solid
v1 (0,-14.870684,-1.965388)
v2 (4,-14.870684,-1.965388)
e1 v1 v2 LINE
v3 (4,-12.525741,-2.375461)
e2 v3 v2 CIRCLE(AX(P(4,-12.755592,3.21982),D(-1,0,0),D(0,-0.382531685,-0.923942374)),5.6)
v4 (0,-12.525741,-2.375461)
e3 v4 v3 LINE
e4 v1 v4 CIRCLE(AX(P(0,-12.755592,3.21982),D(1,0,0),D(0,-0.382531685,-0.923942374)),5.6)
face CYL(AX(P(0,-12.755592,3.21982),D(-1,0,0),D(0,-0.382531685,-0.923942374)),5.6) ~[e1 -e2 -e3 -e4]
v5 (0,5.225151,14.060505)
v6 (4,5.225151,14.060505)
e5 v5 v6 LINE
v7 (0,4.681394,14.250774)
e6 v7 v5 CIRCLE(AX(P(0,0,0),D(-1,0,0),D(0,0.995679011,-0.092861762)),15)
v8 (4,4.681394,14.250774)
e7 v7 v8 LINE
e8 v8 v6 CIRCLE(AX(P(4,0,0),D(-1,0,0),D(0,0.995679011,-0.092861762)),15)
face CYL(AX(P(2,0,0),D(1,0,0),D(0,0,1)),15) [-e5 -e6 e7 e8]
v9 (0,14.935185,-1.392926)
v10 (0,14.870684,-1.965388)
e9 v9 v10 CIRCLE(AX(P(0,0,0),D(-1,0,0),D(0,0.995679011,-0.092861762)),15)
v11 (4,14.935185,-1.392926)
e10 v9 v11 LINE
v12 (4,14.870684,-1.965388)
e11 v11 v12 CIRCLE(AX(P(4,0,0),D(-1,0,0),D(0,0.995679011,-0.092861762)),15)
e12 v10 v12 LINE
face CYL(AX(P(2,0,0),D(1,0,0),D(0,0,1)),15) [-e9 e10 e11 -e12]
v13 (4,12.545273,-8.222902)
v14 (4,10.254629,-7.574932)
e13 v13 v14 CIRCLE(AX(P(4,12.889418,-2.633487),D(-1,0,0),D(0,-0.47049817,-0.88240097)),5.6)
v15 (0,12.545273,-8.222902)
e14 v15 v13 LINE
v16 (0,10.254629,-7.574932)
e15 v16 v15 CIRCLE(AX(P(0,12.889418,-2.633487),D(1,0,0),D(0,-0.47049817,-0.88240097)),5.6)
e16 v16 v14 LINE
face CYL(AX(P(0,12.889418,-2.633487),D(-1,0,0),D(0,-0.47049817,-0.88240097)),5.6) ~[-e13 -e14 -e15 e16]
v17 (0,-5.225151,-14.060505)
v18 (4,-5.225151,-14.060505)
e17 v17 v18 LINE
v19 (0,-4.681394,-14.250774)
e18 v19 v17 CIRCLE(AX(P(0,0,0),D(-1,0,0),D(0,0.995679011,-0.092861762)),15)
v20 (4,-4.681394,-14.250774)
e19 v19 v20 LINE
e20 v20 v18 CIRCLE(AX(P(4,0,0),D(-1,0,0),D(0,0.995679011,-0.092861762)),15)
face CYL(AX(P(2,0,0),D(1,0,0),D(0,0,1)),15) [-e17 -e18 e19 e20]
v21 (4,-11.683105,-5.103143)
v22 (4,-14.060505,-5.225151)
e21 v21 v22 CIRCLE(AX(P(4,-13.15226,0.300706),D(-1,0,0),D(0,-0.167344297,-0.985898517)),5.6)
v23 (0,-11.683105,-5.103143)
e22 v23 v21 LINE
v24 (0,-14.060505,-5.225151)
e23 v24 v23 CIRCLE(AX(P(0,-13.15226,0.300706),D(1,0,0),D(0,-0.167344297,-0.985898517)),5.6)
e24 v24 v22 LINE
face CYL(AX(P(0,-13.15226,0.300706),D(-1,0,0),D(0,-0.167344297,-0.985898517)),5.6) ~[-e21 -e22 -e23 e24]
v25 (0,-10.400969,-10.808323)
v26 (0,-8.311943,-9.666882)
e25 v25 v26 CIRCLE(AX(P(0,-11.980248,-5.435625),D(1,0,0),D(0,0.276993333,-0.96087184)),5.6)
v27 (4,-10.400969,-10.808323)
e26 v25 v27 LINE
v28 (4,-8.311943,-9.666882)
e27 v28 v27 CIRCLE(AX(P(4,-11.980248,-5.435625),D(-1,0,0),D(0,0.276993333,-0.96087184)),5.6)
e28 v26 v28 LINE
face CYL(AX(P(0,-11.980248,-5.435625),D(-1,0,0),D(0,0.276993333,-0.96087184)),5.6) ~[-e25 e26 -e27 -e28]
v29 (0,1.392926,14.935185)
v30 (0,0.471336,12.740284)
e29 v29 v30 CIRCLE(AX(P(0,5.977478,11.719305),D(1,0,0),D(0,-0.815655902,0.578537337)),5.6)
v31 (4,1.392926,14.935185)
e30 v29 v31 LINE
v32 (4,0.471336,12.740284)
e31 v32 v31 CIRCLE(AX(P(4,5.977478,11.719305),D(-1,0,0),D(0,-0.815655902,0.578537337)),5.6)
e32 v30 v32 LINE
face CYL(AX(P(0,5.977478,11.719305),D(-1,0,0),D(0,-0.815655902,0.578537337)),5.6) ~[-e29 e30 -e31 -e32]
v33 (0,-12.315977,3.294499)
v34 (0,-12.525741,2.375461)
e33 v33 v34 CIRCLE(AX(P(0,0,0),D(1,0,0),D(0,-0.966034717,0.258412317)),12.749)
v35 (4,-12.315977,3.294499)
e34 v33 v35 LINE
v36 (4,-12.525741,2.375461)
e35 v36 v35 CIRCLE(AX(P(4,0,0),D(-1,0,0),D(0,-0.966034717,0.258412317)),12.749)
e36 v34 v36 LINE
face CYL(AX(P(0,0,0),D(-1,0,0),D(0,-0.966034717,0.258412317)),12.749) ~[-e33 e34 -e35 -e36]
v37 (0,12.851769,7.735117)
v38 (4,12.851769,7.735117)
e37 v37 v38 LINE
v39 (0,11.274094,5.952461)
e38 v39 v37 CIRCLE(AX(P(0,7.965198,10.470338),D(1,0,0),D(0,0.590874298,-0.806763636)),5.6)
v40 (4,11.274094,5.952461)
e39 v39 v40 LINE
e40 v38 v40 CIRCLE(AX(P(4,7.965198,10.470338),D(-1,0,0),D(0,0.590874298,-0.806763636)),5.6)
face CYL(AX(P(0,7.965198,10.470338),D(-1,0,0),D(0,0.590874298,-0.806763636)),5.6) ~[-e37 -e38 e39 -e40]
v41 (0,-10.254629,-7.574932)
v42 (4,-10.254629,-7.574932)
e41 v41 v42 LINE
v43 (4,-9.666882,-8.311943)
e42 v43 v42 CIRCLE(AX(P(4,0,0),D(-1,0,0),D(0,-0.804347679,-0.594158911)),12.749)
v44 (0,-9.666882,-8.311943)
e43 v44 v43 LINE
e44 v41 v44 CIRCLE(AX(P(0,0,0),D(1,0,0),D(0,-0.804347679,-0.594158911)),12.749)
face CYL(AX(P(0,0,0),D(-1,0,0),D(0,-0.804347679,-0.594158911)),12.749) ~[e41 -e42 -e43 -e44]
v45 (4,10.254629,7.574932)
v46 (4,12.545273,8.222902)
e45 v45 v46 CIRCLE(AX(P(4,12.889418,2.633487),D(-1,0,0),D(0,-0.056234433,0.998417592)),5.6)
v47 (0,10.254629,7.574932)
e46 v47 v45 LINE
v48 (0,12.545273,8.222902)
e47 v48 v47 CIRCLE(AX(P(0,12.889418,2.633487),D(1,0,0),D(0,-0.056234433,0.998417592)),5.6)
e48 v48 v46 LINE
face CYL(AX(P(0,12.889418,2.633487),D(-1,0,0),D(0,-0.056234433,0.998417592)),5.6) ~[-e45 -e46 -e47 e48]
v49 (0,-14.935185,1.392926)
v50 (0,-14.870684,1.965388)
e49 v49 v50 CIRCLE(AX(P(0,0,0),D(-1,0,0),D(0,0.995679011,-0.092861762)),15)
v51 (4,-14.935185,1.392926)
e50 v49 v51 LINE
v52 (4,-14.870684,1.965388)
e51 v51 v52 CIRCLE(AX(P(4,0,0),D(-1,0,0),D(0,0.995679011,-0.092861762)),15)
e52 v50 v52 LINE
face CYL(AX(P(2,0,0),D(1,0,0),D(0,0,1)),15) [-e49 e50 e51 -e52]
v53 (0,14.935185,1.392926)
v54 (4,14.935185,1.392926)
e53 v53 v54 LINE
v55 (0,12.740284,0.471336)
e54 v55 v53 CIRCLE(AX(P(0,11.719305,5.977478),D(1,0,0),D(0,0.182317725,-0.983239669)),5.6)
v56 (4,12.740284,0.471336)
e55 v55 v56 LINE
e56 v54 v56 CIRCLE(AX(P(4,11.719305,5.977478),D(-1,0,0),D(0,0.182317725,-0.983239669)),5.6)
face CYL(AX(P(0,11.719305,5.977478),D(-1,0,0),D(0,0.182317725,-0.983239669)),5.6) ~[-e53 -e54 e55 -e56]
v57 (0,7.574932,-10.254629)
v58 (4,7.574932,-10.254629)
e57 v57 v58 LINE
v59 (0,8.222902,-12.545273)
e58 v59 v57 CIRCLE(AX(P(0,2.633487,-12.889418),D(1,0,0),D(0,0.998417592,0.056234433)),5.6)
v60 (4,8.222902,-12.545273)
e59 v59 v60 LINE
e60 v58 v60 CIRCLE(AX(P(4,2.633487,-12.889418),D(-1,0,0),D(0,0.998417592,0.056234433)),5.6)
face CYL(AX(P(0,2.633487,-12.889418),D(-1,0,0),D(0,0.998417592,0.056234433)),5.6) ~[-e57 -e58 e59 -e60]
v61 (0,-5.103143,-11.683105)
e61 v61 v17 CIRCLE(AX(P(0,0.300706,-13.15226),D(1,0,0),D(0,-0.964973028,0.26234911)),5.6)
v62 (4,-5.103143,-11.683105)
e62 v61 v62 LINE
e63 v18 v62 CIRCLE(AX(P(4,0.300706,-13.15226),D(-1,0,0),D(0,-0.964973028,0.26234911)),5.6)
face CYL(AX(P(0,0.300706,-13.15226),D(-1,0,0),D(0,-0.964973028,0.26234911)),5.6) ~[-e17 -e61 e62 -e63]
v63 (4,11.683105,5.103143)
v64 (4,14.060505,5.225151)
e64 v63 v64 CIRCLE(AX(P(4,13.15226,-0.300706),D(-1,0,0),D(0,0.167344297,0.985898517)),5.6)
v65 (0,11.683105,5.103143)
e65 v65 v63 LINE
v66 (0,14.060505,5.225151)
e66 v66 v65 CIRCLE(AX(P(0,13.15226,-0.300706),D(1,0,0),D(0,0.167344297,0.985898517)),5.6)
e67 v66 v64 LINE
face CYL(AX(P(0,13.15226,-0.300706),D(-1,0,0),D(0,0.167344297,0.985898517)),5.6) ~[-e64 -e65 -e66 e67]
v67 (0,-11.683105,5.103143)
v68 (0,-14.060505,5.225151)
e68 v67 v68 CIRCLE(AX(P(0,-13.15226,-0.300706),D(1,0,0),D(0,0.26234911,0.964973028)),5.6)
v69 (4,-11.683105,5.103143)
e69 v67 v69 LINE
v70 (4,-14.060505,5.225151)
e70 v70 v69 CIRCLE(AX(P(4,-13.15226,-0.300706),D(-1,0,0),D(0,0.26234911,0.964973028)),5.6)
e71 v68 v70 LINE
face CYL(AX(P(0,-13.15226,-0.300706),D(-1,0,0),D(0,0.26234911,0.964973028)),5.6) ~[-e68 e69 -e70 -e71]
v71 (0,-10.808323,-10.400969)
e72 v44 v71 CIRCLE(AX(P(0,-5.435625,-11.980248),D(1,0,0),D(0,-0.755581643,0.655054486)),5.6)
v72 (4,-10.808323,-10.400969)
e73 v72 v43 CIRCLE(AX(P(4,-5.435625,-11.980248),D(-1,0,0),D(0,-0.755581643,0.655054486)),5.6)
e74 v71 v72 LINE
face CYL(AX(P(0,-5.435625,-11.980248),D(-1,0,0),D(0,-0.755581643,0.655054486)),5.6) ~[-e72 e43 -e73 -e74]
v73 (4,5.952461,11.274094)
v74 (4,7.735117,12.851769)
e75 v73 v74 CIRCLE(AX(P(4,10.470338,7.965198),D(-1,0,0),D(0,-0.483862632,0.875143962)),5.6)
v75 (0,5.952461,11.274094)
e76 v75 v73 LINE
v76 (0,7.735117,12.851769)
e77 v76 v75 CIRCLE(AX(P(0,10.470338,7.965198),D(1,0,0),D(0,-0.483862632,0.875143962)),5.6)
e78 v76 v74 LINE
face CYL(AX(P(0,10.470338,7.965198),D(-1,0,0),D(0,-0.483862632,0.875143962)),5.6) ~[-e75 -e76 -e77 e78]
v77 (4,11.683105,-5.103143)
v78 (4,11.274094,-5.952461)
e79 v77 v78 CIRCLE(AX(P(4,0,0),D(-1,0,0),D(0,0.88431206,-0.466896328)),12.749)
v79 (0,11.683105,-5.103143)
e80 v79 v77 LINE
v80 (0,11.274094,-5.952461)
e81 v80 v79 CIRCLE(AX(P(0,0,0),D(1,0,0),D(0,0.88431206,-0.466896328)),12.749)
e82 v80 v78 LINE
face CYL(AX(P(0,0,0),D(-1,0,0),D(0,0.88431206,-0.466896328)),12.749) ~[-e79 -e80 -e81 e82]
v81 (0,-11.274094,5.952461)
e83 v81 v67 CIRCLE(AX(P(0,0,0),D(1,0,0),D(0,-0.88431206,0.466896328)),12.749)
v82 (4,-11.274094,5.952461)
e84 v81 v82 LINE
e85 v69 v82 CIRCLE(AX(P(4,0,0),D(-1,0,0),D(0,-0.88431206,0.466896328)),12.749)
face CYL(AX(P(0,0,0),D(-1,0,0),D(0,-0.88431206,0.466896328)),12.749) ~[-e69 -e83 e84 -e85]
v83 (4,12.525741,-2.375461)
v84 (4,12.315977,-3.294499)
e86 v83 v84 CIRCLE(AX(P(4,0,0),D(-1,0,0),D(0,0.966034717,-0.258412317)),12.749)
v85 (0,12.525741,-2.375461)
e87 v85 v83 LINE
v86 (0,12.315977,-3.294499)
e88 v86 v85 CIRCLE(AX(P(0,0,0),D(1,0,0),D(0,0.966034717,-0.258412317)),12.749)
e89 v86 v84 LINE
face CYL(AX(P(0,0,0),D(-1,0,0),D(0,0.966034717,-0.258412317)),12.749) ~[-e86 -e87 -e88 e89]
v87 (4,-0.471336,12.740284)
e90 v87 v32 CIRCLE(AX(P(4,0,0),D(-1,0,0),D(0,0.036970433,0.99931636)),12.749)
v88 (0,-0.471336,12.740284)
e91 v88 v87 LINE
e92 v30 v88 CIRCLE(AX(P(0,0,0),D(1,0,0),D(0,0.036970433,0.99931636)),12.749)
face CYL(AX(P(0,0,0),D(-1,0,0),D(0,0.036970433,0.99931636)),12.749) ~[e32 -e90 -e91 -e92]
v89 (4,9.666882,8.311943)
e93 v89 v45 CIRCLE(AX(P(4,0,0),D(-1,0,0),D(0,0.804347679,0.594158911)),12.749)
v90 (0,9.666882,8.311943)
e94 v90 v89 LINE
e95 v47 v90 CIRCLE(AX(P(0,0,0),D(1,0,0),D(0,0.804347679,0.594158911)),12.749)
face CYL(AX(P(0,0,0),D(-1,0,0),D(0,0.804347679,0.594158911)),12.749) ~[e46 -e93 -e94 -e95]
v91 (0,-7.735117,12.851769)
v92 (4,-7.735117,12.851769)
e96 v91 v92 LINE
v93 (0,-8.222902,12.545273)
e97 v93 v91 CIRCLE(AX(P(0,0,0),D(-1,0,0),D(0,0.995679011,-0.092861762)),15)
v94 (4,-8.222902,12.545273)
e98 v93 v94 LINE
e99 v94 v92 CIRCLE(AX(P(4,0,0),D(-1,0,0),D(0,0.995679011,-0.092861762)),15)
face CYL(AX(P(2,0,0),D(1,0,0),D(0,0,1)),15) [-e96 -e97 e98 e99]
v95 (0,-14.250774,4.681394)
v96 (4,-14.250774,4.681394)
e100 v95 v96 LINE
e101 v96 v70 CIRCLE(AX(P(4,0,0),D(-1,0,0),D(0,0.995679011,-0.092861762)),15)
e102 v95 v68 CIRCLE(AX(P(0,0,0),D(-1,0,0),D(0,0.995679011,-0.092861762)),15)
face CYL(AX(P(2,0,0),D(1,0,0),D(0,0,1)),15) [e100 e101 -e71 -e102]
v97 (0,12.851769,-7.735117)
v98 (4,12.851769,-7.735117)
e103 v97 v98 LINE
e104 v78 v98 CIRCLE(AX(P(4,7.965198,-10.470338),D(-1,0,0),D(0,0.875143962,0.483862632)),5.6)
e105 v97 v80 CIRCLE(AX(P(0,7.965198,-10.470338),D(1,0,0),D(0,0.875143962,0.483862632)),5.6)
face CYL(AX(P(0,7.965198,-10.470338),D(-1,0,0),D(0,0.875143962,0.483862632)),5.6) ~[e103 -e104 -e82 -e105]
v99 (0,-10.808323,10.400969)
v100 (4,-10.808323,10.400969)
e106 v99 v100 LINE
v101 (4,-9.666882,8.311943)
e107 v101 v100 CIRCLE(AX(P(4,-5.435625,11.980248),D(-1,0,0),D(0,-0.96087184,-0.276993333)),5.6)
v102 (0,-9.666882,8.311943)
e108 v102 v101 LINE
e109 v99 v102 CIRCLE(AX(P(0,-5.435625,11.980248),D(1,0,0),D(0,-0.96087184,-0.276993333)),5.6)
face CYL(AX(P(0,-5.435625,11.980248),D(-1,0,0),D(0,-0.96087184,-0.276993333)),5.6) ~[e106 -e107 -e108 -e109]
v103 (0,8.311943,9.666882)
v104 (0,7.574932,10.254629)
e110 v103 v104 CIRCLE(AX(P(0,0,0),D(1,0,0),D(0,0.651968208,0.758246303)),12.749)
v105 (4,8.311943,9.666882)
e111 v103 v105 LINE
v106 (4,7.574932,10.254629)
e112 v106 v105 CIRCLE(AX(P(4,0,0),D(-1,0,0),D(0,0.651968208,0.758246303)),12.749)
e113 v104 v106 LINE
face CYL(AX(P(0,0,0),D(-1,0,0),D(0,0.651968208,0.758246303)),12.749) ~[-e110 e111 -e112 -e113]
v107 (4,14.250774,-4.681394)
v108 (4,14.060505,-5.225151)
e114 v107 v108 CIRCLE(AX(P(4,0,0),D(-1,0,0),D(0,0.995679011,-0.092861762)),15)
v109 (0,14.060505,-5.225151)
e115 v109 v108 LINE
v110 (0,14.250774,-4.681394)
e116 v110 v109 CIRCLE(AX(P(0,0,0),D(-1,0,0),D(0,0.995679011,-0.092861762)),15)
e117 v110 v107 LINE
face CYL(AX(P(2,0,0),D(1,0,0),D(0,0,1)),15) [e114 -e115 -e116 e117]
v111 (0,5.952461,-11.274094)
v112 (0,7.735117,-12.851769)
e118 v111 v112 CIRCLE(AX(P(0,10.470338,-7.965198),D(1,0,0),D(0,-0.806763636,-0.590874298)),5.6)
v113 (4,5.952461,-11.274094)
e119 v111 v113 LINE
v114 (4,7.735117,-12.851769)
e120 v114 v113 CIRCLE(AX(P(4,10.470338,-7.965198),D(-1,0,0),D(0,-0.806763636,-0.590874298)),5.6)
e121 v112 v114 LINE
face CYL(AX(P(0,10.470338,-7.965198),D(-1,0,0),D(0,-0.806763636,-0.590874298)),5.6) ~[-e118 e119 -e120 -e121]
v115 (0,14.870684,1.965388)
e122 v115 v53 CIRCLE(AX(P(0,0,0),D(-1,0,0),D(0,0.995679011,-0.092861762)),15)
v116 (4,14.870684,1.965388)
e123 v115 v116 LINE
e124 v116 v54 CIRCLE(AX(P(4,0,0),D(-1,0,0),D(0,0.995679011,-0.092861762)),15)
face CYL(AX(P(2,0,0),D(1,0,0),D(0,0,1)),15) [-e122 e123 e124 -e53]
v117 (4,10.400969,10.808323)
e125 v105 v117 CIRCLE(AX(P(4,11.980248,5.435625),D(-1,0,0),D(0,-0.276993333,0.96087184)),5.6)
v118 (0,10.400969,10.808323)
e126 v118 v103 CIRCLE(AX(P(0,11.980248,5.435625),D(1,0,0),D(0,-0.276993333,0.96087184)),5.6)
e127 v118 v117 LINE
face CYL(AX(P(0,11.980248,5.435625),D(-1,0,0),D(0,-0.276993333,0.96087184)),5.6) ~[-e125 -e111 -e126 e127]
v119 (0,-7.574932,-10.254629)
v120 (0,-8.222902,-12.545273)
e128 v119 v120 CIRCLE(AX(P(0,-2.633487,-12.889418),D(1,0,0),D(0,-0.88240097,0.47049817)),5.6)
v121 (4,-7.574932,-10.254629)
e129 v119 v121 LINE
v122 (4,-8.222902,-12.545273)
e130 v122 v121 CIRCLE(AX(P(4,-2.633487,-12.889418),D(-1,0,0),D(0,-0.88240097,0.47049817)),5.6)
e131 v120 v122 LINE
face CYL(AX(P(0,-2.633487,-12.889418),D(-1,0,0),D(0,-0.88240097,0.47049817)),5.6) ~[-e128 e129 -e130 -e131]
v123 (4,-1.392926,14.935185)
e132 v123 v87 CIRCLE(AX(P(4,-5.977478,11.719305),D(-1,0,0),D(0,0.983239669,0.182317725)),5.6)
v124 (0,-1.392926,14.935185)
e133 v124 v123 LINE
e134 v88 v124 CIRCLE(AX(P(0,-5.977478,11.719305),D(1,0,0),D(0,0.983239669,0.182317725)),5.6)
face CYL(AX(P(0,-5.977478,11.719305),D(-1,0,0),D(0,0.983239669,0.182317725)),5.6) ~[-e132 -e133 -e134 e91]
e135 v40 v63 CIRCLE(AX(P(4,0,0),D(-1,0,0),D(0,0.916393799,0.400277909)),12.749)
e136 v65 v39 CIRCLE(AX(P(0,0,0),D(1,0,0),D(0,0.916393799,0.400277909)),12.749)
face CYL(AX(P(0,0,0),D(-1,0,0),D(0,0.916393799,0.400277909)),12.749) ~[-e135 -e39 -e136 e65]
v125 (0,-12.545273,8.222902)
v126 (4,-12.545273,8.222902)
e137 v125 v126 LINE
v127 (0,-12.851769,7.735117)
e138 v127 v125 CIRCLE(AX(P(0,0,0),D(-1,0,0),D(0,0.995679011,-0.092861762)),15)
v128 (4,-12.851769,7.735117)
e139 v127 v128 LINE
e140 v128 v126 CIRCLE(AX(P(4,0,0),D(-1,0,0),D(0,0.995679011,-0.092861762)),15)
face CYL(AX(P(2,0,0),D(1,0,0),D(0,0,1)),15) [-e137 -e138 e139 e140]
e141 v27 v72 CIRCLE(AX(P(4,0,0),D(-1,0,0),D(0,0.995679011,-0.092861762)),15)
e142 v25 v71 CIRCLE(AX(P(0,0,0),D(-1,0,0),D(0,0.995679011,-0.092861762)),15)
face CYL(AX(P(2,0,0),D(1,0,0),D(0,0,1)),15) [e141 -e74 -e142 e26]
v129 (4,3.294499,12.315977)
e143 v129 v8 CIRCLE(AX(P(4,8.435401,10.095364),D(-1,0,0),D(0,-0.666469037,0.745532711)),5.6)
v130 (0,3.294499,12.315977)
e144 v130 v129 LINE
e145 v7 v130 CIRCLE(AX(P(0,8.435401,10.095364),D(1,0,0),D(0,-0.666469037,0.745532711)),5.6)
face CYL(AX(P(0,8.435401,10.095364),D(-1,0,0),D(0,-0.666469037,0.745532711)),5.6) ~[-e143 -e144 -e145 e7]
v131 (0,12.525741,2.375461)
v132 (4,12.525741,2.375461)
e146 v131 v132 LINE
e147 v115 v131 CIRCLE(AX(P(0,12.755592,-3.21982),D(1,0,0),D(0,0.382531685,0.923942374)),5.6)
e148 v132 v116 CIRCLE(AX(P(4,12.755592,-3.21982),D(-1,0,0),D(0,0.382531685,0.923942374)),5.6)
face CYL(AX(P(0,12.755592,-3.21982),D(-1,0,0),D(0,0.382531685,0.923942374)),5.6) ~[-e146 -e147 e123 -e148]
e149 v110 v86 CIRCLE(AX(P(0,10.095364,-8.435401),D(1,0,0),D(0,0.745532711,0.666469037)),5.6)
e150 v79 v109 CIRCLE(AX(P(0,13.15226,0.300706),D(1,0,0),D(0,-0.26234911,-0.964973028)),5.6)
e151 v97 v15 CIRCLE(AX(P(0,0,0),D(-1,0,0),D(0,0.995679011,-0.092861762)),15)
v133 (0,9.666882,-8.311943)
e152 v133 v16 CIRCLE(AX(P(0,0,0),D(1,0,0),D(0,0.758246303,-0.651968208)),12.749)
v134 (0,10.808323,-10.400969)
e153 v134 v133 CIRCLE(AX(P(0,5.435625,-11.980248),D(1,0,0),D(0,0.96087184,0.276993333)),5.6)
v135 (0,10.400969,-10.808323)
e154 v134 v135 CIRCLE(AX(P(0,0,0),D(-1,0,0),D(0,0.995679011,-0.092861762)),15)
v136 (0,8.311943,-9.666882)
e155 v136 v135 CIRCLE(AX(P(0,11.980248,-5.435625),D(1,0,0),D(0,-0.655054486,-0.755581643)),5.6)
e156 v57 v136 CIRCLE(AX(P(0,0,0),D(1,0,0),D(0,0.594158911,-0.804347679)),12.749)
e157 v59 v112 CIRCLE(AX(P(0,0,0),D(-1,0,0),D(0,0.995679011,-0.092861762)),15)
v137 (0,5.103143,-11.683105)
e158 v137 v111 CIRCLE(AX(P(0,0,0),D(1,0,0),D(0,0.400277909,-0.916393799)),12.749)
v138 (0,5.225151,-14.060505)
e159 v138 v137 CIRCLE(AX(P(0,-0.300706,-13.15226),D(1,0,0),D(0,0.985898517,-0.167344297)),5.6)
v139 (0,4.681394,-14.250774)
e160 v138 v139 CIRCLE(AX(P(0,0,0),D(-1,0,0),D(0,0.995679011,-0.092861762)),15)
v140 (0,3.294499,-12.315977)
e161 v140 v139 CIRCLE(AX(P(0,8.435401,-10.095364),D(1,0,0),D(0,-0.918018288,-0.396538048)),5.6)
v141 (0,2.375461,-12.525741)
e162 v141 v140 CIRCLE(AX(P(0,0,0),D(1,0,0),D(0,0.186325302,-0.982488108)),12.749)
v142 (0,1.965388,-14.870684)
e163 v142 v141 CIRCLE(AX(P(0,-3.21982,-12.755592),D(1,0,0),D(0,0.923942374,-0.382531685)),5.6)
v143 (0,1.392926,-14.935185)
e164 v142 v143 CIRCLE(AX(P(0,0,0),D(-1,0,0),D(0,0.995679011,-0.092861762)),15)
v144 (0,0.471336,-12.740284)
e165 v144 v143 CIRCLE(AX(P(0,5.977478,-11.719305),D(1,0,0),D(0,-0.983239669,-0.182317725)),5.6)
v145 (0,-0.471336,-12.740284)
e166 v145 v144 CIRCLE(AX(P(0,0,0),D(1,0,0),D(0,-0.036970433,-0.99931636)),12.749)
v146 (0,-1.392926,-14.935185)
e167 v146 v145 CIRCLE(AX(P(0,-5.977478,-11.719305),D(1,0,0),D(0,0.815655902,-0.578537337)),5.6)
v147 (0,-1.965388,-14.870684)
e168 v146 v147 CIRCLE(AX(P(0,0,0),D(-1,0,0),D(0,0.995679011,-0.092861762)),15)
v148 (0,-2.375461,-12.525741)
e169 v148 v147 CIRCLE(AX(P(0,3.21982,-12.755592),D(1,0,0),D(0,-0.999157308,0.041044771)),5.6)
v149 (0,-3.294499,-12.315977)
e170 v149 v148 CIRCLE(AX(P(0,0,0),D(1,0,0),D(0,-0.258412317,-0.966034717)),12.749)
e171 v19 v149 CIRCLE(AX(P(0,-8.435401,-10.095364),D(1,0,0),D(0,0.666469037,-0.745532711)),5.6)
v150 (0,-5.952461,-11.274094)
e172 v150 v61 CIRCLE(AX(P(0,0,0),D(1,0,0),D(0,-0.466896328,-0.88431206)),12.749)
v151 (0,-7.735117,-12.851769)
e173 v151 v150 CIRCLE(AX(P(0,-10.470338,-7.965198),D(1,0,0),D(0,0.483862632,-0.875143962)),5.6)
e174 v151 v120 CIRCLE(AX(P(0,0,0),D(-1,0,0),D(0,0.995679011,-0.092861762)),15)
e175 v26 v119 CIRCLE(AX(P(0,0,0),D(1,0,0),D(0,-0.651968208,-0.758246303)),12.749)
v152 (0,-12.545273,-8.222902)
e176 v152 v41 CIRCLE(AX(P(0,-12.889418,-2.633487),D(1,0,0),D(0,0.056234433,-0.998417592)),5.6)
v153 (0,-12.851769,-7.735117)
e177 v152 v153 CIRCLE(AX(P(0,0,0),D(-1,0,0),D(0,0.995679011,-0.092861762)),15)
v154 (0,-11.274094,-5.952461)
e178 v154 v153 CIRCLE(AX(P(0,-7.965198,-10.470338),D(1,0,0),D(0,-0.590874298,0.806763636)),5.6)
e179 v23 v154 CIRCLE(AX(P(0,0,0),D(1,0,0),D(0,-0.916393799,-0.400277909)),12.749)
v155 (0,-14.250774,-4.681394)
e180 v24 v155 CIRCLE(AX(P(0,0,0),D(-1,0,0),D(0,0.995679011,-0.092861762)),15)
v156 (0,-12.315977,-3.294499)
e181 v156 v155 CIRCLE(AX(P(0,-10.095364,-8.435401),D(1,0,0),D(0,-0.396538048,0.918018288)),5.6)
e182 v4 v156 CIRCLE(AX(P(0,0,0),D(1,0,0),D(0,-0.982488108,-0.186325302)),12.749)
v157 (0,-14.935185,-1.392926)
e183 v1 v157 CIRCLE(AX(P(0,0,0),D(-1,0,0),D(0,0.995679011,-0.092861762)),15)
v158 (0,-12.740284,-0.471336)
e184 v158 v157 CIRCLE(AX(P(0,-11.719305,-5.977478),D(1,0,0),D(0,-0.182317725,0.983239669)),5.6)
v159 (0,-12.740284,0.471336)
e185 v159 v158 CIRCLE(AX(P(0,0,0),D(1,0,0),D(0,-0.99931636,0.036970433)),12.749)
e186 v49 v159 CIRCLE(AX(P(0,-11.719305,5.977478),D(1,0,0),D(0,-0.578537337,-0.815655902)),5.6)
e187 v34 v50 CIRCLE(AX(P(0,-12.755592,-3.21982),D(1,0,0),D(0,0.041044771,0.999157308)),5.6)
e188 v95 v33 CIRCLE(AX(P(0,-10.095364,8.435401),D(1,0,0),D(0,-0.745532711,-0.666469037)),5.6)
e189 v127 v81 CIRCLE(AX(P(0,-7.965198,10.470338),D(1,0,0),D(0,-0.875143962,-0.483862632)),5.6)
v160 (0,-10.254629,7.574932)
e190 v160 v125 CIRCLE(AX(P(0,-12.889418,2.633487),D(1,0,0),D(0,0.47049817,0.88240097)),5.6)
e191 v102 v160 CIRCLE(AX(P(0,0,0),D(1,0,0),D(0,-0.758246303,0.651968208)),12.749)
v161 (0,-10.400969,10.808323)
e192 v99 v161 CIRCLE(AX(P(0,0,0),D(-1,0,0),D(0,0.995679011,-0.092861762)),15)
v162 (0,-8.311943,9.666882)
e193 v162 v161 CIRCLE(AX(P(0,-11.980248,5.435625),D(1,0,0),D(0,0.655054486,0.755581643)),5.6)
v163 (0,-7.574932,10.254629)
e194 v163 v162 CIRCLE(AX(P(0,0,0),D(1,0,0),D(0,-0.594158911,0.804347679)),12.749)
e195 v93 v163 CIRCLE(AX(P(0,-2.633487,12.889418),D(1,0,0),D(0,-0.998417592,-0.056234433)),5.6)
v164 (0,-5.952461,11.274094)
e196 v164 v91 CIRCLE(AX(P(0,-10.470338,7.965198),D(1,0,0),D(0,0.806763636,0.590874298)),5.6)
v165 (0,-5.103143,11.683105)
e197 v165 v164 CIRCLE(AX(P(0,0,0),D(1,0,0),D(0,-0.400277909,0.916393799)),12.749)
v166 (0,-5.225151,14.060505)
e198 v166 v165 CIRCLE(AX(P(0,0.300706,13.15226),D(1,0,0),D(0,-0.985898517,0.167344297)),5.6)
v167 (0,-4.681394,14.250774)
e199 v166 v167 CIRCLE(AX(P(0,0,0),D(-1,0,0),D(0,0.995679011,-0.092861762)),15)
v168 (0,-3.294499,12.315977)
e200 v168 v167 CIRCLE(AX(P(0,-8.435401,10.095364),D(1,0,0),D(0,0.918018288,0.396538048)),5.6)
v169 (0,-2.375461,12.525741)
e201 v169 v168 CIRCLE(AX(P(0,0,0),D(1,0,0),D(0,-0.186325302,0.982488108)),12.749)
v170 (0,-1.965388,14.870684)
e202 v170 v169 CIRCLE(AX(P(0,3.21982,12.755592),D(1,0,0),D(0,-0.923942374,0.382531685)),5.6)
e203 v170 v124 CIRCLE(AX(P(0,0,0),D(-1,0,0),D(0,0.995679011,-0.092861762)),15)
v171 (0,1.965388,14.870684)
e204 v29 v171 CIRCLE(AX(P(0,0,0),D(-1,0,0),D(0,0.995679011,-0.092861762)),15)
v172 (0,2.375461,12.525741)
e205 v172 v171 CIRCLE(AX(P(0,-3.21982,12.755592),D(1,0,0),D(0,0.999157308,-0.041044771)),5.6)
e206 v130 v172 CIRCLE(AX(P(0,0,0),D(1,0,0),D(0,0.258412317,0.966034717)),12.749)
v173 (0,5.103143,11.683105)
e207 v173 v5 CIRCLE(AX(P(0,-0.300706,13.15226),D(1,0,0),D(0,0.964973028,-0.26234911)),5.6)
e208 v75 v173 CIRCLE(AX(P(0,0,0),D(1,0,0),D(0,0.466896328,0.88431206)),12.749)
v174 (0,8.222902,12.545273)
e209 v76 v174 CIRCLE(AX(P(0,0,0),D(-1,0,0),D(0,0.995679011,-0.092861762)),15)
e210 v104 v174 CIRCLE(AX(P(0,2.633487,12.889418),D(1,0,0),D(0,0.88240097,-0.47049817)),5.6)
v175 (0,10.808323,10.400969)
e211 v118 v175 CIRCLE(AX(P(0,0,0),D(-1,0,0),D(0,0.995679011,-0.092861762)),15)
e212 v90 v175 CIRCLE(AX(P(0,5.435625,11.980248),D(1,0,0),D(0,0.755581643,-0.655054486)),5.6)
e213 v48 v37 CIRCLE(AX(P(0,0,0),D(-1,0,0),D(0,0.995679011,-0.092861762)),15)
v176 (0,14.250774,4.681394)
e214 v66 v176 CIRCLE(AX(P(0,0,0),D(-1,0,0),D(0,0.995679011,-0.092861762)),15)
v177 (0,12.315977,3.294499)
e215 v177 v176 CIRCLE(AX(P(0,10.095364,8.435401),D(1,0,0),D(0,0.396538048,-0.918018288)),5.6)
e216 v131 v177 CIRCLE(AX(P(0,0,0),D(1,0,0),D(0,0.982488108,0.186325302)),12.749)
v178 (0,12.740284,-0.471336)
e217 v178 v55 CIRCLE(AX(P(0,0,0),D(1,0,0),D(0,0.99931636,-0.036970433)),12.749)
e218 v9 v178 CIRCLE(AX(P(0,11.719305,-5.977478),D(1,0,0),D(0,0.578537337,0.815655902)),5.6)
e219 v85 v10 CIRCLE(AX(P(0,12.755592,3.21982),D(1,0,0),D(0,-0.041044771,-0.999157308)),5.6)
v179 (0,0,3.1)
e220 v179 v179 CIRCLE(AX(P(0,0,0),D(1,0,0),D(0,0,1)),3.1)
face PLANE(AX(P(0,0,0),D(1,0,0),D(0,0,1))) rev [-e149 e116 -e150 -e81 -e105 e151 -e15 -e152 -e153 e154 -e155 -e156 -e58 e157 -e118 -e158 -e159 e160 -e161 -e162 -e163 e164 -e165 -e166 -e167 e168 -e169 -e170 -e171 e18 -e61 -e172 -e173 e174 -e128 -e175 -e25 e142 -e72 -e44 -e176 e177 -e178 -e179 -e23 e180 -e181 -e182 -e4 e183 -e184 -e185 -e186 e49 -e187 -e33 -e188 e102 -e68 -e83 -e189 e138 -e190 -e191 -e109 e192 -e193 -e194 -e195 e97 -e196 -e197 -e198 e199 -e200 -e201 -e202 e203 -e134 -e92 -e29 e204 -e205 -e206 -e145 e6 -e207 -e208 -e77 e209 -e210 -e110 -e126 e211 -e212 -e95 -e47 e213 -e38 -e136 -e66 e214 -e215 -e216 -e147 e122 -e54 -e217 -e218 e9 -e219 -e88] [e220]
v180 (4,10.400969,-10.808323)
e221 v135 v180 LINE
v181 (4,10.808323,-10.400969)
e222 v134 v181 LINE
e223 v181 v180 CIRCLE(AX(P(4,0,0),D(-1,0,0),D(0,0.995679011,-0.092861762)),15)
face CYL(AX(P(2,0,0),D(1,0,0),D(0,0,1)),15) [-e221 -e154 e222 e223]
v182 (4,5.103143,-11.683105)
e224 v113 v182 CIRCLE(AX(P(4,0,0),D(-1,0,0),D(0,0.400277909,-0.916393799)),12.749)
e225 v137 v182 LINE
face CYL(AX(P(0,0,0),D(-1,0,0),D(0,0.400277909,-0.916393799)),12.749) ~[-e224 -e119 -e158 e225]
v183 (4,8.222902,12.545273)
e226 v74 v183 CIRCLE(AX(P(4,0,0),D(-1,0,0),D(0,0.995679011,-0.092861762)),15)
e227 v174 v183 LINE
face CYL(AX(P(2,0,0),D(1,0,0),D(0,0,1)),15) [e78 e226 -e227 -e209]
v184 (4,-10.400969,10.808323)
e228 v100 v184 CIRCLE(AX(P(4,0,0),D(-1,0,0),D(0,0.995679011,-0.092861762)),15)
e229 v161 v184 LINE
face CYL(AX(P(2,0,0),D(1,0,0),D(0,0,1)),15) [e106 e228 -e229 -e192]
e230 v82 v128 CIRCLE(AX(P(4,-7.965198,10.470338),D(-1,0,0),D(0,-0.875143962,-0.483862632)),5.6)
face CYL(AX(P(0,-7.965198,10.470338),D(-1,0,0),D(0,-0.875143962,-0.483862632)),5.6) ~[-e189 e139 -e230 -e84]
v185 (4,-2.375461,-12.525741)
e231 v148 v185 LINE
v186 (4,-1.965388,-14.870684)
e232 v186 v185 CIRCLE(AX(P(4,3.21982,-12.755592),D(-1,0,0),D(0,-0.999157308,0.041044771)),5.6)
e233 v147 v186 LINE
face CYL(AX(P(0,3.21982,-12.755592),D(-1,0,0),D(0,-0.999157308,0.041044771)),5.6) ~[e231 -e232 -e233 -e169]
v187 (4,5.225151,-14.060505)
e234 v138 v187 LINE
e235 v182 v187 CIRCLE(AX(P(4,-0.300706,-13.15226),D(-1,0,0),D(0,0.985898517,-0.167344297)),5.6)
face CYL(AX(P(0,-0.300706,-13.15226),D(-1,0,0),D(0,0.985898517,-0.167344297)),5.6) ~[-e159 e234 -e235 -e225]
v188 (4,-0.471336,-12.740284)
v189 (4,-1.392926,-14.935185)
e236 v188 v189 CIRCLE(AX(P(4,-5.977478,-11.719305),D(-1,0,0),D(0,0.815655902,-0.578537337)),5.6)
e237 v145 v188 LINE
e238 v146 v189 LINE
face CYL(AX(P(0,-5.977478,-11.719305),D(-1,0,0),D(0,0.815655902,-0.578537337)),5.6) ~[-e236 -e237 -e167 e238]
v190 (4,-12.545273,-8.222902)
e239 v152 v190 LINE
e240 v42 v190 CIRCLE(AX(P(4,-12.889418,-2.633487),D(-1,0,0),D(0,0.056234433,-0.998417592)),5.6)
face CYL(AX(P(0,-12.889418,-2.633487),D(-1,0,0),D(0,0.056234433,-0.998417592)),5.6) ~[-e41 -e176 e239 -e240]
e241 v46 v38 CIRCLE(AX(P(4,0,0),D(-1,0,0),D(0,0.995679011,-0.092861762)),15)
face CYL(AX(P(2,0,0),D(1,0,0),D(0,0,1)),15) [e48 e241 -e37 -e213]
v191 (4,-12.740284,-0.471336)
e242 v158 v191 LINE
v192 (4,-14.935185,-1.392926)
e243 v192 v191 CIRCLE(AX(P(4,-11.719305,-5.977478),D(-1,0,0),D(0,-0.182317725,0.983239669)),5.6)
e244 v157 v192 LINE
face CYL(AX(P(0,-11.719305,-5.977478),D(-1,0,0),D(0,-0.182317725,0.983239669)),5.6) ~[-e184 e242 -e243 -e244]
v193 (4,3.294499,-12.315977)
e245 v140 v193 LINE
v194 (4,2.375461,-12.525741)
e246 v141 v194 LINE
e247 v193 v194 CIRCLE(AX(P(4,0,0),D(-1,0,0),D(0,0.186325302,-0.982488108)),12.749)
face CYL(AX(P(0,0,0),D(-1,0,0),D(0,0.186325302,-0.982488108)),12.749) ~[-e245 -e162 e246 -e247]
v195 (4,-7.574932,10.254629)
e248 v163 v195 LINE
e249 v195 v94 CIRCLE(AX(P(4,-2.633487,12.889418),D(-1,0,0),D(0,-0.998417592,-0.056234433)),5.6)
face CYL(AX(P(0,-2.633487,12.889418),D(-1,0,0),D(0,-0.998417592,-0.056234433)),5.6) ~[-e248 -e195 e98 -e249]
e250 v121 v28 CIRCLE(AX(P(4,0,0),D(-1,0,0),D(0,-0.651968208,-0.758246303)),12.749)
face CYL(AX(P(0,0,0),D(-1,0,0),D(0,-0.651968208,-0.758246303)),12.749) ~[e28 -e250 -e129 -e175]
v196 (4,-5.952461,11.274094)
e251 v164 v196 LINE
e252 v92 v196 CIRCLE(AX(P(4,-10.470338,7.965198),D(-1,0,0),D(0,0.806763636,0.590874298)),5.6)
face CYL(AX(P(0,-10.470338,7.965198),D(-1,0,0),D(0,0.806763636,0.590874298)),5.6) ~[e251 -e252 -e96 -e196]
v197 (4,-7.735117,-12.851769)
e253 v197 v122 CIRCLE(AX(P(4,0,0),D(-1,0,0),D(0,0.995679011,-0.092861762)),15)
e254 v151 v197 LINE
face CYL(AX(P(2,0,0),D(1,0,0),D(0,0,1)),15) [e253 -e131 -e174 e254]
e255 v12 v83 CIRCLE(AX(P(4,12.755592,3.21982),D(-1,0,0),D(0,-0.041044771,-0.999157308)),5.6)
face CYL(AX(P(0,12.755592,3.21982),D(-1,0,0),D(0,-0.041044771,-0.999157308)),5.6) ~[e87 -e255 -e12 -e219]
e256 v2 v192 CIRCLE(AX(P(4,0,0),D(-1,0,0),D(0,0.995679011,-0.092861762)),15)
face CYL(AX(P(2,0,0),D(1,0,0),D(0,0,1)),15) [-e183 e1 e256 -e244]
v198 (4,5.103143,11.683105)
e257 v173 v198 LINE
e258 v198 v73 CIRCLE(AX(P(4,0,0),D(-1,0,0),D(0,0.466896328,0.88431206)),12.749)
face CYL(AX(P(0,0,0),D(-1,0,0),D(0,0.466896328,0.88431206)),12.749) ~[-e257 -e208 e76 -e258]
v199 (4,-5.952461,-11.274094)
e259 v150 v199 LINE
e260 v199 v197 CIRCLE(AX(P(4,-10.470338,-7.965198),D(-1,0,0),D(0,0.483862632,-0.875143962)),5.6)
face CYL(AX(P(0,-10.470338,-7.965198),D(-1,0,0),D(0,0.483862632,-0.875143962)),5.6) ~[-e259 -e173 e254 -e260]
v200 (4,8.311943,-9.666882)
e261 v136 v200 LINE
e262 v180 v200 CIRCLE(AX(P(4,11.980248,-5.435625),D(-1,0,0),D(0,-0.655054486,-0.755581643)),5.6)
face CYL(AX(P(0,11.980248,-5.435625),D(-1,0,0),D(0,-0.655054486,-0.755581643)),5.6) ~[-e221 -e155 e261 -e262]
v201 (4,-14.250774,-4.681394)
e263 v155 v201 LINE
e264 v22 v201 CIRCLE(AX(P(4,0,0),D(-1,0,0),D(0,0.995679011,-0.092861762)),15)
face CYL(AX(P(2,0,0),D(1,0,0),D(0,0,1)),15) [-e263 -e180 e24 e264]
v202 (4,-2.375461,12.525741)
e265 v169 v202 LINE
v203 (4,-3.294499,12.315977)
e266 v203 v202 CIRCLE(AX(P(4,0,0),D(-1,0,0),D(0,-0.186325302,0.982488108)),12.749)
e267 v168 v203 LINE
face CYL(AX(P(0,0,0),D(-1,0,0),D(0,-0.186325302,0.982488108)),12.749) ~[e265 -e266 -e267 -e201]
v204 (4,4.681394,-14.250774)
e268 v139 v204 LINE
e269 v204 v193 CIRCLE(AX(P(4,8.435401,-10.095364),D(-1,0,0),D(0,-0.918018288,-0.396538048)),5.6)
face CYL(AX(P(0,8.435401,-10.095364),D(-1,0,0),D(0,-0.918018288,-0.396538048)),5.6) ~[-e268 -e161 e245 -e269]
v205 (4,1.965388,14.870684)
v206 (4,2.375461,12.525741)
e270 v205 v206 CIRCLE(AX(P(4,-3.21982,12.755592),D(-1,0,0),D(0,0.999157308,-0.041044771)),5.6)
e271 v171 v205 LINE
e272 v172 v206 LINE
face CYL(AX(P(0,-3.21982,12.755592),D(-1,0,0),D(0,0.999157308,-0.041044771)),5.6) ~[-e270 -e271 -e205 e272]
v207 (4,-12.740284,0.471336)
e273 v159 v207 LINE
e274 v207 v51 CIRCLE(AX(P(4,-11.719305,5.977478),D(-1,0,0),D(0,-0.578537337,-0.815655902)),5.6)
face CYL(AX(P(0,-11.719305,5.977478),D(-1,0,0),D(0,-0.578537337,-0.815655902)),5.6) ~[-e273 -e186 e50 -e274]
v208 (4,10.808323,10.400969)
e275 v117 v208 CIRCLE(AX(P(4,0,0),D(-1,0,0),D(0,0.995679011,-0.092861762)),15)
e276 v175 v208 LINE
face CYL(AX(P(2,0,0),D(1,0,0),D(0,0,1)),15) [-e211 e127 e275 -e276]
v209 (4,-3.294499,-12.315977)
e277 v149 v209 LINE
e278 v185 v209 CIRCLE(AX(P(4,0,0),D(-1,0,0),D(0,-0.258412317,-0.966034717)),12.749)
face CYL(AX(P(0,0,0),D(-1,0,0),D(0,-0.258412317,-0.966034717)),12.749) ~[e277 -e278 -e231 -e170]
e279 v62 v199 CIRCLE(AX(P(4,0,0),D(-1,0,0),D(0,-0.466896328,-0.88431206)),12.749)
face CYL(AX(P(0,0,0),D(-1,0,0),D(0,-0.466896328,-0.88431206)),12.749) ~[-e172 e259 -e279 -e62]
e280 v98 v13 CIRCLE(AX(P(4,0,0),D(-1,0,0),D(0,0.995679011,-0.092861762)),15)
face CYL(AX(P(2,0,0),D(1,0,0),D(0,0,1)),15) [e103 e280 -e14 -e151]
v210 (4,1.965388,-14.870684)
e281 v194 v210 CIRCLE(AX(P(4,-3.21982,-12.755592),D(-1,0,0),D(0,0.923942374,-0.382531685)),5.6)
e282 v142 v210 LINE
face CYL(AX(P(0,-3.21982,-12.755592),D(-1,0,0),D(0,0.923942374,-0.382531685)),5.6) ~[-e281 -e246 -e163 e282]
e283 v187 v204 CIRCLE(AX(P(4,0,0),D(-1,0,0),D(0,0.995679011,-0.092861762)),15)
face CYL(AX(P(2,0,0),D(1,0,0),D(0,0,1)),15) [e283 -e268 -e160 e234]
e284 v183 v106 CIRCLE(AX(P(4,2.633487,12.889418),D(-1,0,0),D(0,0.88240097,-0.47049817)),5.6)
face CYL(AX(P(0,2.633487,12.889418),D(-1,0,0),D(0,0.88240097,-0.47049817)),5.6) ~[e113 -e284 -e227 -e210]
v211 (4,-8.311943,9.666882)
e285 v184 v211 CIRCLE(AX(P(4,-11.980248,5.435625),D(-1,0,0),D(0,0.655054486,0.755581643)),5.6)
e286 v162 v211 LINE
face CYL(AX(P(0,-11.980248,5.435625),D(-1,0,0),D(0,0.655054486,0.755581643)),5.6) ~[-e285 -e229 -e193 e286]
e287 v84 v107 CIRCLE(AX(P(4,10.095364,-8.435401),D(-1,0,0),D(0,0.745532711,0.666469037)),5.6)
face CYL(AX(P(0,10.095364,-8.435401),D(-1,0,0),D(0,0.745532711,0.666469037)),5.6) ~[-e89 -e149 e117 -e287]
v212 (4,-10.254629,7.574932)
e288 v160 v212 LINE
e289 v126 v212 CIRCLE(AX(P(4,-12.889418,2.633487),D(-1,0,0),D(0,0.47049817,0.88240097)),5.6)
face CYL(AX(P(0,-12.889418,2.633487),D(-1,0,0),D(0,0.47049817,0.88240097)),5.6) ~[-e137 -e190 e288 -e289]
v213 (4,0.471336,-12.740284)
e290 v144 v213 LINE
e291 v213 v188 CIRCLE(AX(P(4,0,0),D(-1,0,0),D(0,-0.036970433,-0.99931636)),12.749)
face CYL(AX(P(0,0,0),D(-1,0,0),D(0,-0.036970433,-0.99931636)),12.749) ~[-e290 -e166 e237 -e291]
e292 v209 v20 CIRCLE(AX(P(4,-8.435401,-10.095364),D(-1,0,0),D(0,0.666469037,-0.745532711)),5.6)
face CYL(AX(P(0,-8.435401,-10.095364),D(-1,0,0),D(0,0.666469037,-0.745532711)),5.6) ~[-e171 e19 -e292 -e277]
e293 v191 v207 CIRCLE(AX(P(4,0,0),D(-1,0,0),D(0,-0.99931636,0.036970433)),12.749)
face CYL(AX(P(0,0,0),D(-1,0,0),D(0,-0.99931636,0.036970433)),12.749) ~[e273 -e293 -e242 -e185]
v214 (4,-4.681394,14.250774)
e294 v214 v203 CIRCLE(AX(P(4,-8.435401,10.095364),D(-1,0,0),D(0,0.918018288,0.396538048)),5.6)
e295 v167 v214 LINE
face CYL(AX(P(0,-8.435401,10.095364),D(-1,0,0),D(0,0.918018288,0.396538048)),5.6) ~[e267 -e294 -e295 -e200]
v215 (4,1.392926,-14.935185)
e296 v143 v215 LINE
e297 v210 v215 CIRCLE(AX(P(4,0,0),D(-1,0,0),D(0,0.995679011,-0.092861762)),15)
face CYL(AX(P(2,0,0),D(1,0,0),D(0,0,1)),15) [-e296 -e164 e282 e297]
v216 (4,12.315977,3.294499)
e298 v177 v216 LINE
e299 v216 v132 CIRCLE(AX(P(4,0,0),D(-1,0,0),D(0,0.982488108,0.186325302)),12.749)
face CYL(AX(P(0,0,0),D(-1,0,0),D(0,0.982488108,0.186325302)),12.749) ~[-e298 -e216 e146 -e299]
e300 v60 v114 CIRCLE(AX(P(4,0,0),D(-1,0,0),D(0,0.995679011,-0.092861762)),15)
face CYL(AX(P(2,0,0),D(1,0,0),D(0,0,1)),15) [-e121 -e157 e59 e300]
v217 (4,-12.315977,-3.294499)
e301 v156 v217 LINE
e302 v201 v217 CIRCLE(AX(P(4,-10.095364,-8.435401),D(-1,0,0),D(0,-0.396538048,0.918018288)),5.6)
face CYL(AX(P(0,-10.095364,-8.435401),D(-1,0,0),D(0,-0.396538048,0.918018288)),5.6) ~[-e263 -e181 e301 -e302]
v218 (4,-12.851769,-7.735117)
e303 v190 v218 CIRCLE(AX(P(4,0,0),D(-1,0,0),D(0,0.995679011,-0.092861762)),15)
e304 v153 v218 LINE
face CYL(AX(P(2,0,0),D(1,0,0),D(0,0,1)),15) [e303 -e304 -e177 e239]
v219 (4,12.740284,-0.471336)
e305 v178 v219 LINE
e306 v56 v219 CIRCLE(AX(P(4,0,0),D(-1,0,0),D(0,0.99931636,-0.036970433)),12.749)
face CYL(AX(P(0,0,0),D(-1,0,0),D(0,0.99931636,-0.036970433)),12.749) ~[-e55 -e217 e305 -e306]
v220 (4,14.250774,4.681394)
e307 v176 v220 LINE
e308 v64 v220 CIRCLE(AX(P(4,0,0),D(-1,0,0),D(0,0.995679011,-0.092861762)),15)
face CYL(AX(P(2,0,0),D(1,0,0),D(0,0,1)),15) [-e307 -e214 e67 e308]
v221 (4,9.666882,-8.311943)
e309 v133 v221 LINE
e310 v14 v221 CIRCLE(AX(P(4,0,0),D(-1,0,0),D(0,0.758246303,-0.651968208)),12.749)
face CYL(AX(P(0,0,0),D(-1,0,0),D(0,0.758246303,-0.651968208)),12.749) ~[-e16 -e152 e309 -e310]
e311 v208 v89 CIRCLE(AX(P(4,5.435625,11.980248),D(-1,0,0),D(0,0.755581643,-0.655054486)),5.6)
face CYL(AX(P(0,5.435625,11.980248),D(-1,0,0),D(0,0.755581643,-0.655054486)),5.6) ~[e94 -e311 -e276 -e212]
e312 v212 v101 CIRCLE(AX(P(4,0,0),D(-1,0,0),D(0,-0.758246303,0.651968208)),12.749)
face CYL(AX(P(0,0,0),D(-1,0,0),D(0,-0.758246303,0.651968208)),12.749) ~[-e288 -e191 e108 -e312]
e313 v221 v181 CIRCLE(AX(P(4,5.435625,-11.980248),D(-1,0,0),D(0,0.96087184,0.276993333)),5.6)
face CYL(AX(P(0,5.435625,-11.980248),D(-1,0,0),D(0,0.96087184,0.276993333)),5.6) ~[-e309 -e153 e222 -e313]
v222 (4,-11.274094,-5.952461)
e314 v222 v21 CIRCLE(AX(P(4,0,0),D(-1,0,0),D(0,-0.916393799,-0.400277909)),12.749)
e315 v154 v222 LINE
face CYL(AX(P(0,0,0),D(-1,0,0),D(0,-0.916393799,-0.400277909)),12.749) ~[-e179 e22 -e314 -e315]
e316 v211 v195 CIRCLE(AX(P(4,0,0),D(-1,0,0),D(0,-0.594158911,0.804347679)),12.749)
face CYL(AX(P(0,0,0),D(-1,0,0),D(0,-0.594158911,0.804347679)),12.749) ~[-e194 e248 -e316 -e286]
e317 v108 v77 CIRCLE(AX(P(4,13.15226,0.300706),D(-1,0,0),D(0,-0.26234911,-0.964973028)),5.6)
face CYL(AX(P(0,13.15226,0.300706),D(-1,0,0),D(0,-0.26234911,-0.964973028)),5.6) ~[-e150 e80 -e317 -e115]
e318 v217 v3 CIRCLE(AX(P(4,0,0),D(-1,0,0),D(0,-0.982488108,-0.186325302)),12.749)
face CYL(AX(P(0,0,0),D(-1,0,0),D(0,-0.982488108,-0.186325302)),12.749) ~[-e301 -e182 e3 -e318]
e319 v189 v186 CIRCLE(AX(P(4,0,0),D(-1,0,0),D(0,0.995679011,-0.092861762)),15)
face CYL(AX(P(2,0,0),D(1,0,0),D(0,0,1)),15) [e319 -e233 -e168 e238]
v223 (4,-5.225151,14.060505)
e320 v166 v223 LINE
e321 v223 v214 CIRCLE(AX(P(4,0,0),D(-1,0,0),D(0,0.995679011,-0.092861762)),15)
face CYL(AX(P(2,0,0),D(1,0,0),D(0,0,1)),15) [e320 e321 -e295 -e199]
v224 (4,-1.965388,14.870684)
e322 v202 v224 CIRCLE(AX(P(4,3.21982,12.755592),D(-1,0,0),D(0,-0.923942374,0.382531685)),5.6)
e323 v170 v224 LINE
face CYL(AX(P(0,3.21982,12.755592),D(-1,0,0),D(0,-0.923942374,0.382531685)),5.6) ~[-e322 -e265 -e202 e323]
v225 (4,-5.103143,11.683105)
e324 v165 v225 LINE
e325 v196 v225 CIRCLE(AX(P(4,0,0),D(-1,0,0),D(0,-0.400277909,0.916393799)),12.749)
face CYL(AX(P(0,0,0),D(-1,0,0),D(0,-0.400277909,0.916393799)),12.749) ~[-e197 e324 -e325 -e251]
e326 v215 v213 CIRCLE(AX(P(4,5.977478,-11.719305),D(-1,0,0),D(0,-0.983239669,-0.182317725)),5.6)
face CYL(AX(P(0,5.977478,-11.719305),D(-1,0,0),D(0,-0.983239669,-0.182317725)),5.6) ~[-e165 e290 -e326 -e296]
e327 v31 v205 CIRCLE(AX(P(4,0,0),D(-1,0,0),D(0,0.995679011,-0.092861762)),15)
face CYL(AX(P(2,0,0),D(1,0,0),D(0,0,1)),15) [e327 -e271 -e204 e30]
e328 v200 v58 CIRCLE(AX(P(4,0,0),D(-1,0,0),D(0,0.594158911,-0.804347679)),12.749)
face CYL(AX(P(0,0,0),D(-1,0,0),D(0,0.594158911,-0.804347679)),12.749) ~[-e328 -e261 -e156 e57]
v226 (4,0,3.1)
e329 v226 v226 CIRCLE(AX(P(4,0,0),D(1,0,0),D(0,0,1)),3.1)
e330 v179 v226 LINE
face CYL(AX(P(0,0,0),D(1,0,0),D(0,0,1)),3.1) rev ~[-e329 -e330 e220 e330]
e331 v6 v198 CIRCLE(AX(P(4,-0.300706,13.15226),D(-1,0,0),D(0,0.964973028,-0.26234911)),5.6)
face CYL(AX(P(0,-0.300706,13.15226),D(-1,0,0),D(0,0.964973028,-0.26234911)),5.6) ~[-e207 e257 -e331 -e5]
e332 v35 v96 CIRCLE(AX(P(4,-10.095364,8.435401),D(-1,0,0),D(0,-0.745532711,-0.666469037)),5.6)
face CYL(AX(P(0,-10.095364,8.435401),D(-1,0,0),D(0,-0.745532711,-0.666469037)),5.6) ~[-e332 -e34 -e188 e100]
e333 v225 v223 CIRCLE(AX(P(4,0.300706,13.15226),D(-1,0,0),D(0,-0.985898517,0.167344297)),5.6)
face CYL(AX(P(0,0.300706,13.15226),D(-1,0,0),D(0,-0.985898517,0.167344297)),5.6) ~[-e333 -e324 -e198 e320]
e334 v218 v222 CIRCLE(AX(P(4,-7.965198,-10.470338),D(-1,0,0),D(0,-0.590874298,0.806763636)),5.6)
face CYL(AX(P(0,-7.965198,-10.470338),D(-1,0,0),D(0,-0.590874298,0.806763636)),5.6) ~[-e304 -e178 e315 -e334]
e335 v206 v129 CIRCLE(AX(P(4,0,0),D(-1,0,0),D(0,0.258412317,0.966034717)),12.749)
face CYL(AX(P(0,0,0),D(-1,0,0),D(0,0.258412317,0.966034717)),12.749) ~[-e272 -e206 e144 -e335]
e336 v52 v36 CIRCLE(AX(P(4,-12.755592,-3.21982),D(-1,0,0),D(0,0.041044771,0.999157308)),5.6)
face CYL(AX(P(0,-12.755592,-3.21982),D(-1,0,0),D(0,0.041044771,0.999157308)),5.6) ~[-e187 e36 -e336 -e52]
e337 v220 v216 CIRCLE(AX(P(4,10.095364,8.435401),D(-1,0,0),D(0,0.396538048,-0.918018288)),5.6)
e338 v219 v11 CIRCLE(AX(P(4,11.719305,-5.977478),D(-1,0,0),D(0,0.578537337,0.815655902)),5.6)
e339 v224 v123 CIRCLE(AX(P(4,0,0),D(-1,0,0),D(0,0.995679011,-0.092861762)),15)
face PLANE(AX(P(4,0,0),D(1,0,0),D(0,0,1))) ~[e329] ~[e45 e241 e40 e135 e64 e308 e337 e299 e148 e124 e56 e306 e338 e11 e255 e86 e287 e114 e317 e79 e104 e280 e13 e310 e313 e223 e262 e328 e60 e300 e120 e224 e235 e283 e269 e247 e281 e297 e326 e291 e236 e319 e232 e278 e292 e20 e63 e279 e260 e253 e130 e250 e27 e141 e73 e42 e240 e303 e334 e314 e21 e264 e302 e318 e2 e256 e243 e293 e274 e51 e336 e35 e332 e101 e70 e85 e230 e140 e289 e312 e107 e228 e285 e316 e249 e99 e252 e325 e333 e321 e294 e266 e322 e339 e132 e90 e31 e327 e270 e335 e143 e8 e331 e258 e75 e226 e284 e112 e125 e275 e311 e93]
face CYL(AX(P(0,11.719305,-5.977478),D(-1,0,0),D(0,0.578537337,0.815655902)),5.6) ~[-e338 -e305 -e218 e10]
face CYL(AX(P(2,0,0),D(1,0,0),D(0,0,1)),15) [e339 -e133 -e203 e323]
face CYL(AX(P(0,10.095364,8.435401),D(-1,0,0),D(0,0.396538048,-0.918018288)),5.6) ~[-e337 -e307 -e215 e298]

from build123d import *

# Parameters (mm, degrees)
BASPROSKE_W     = 4
BASPROSKE_H     = 15
TOOTHCUT_DEPTH  = 22.587033145
TEETHCUTS_COUNT = 28
TEETHCUTS_ANGLE = 347.142857143
BORSKE_R        = 3.1
BORE_DEPTH      = 50.0000508


with BuildPart() as part:
    # BasProSke → Base-Revolve (revolve)
    with BuildSketch(Plane(origin=(0, 0, 0), x_dir=(1, 0, 0), z_dir=(0, 1, 0)), mode=Mode.PRIVATE) as base_revolve_sk:
        with Locations((2, 7.5)):
            Rectangle(BASPROSKE_W, BASPROSKE_H)
    revolve(base_revolve_sk.sketch.rotate(Axis((-10, 0, 0), (1, 0, 0)), 180), axis=Axis((-10, 0, 0), (1, 0, 0)))

    # TooCutSke → ToothCut (cut, through all)
    with BuildSketch(Plane(origin=(0, 0, 0), x_dir=(0, 0, -1), z_dir=(1, 0, 0))):
        with BuildLine():
            ThreePointArc((0.471336039, 12.740284272), (0, 12.749), (-0.471336039, 12.740284272))
            ThreePointArc((-0.471336039, 12.740284272), (-0.81983923, 13.900763331), (-1.409805137, 14.959114099))
            ThreePointArc((-1.409805137, 14.959114099), (0, 15.0254), (1.409805137, 14.959114099))
            ThreePointArc((1.409805137, 14.959114099), (0.81983923, 13.900763331), (0.471336039, 12.740284272))
        make_face()
    toothcut = extrude(amount=TOOTHCUT_DEPTH, mode=Mode.SUBTRACT)

    # TeethCuts: ToothCut ×28 about axis
    teethcuts_axis = Axis((-10, 0, 0), (1, 0, 0))
    for i in range(1, TEETHCUTS_COUNT):
        add(toothcut.rotate(teethcuts_axis, i * TEETHCUTS_ANGLE / (TEETHCUTS_COUNT - 1)), mode=Mode.SUBTRACT)

    # BorSke → Bore (cut, symmetric)
    with BuildSketch(Plane(origin=(0, 0, 0), x_dir=(0, 0, -1), z_dir=(1, 0, 0))):
        with Locations(Location((0, 0, 0), (0, 0, 180))):
            Circle(BORSKE_R)
    extrude(amount=BORE_DEPTH, both=True, mode=Mode.SUBTRACT)


solid = part.part
